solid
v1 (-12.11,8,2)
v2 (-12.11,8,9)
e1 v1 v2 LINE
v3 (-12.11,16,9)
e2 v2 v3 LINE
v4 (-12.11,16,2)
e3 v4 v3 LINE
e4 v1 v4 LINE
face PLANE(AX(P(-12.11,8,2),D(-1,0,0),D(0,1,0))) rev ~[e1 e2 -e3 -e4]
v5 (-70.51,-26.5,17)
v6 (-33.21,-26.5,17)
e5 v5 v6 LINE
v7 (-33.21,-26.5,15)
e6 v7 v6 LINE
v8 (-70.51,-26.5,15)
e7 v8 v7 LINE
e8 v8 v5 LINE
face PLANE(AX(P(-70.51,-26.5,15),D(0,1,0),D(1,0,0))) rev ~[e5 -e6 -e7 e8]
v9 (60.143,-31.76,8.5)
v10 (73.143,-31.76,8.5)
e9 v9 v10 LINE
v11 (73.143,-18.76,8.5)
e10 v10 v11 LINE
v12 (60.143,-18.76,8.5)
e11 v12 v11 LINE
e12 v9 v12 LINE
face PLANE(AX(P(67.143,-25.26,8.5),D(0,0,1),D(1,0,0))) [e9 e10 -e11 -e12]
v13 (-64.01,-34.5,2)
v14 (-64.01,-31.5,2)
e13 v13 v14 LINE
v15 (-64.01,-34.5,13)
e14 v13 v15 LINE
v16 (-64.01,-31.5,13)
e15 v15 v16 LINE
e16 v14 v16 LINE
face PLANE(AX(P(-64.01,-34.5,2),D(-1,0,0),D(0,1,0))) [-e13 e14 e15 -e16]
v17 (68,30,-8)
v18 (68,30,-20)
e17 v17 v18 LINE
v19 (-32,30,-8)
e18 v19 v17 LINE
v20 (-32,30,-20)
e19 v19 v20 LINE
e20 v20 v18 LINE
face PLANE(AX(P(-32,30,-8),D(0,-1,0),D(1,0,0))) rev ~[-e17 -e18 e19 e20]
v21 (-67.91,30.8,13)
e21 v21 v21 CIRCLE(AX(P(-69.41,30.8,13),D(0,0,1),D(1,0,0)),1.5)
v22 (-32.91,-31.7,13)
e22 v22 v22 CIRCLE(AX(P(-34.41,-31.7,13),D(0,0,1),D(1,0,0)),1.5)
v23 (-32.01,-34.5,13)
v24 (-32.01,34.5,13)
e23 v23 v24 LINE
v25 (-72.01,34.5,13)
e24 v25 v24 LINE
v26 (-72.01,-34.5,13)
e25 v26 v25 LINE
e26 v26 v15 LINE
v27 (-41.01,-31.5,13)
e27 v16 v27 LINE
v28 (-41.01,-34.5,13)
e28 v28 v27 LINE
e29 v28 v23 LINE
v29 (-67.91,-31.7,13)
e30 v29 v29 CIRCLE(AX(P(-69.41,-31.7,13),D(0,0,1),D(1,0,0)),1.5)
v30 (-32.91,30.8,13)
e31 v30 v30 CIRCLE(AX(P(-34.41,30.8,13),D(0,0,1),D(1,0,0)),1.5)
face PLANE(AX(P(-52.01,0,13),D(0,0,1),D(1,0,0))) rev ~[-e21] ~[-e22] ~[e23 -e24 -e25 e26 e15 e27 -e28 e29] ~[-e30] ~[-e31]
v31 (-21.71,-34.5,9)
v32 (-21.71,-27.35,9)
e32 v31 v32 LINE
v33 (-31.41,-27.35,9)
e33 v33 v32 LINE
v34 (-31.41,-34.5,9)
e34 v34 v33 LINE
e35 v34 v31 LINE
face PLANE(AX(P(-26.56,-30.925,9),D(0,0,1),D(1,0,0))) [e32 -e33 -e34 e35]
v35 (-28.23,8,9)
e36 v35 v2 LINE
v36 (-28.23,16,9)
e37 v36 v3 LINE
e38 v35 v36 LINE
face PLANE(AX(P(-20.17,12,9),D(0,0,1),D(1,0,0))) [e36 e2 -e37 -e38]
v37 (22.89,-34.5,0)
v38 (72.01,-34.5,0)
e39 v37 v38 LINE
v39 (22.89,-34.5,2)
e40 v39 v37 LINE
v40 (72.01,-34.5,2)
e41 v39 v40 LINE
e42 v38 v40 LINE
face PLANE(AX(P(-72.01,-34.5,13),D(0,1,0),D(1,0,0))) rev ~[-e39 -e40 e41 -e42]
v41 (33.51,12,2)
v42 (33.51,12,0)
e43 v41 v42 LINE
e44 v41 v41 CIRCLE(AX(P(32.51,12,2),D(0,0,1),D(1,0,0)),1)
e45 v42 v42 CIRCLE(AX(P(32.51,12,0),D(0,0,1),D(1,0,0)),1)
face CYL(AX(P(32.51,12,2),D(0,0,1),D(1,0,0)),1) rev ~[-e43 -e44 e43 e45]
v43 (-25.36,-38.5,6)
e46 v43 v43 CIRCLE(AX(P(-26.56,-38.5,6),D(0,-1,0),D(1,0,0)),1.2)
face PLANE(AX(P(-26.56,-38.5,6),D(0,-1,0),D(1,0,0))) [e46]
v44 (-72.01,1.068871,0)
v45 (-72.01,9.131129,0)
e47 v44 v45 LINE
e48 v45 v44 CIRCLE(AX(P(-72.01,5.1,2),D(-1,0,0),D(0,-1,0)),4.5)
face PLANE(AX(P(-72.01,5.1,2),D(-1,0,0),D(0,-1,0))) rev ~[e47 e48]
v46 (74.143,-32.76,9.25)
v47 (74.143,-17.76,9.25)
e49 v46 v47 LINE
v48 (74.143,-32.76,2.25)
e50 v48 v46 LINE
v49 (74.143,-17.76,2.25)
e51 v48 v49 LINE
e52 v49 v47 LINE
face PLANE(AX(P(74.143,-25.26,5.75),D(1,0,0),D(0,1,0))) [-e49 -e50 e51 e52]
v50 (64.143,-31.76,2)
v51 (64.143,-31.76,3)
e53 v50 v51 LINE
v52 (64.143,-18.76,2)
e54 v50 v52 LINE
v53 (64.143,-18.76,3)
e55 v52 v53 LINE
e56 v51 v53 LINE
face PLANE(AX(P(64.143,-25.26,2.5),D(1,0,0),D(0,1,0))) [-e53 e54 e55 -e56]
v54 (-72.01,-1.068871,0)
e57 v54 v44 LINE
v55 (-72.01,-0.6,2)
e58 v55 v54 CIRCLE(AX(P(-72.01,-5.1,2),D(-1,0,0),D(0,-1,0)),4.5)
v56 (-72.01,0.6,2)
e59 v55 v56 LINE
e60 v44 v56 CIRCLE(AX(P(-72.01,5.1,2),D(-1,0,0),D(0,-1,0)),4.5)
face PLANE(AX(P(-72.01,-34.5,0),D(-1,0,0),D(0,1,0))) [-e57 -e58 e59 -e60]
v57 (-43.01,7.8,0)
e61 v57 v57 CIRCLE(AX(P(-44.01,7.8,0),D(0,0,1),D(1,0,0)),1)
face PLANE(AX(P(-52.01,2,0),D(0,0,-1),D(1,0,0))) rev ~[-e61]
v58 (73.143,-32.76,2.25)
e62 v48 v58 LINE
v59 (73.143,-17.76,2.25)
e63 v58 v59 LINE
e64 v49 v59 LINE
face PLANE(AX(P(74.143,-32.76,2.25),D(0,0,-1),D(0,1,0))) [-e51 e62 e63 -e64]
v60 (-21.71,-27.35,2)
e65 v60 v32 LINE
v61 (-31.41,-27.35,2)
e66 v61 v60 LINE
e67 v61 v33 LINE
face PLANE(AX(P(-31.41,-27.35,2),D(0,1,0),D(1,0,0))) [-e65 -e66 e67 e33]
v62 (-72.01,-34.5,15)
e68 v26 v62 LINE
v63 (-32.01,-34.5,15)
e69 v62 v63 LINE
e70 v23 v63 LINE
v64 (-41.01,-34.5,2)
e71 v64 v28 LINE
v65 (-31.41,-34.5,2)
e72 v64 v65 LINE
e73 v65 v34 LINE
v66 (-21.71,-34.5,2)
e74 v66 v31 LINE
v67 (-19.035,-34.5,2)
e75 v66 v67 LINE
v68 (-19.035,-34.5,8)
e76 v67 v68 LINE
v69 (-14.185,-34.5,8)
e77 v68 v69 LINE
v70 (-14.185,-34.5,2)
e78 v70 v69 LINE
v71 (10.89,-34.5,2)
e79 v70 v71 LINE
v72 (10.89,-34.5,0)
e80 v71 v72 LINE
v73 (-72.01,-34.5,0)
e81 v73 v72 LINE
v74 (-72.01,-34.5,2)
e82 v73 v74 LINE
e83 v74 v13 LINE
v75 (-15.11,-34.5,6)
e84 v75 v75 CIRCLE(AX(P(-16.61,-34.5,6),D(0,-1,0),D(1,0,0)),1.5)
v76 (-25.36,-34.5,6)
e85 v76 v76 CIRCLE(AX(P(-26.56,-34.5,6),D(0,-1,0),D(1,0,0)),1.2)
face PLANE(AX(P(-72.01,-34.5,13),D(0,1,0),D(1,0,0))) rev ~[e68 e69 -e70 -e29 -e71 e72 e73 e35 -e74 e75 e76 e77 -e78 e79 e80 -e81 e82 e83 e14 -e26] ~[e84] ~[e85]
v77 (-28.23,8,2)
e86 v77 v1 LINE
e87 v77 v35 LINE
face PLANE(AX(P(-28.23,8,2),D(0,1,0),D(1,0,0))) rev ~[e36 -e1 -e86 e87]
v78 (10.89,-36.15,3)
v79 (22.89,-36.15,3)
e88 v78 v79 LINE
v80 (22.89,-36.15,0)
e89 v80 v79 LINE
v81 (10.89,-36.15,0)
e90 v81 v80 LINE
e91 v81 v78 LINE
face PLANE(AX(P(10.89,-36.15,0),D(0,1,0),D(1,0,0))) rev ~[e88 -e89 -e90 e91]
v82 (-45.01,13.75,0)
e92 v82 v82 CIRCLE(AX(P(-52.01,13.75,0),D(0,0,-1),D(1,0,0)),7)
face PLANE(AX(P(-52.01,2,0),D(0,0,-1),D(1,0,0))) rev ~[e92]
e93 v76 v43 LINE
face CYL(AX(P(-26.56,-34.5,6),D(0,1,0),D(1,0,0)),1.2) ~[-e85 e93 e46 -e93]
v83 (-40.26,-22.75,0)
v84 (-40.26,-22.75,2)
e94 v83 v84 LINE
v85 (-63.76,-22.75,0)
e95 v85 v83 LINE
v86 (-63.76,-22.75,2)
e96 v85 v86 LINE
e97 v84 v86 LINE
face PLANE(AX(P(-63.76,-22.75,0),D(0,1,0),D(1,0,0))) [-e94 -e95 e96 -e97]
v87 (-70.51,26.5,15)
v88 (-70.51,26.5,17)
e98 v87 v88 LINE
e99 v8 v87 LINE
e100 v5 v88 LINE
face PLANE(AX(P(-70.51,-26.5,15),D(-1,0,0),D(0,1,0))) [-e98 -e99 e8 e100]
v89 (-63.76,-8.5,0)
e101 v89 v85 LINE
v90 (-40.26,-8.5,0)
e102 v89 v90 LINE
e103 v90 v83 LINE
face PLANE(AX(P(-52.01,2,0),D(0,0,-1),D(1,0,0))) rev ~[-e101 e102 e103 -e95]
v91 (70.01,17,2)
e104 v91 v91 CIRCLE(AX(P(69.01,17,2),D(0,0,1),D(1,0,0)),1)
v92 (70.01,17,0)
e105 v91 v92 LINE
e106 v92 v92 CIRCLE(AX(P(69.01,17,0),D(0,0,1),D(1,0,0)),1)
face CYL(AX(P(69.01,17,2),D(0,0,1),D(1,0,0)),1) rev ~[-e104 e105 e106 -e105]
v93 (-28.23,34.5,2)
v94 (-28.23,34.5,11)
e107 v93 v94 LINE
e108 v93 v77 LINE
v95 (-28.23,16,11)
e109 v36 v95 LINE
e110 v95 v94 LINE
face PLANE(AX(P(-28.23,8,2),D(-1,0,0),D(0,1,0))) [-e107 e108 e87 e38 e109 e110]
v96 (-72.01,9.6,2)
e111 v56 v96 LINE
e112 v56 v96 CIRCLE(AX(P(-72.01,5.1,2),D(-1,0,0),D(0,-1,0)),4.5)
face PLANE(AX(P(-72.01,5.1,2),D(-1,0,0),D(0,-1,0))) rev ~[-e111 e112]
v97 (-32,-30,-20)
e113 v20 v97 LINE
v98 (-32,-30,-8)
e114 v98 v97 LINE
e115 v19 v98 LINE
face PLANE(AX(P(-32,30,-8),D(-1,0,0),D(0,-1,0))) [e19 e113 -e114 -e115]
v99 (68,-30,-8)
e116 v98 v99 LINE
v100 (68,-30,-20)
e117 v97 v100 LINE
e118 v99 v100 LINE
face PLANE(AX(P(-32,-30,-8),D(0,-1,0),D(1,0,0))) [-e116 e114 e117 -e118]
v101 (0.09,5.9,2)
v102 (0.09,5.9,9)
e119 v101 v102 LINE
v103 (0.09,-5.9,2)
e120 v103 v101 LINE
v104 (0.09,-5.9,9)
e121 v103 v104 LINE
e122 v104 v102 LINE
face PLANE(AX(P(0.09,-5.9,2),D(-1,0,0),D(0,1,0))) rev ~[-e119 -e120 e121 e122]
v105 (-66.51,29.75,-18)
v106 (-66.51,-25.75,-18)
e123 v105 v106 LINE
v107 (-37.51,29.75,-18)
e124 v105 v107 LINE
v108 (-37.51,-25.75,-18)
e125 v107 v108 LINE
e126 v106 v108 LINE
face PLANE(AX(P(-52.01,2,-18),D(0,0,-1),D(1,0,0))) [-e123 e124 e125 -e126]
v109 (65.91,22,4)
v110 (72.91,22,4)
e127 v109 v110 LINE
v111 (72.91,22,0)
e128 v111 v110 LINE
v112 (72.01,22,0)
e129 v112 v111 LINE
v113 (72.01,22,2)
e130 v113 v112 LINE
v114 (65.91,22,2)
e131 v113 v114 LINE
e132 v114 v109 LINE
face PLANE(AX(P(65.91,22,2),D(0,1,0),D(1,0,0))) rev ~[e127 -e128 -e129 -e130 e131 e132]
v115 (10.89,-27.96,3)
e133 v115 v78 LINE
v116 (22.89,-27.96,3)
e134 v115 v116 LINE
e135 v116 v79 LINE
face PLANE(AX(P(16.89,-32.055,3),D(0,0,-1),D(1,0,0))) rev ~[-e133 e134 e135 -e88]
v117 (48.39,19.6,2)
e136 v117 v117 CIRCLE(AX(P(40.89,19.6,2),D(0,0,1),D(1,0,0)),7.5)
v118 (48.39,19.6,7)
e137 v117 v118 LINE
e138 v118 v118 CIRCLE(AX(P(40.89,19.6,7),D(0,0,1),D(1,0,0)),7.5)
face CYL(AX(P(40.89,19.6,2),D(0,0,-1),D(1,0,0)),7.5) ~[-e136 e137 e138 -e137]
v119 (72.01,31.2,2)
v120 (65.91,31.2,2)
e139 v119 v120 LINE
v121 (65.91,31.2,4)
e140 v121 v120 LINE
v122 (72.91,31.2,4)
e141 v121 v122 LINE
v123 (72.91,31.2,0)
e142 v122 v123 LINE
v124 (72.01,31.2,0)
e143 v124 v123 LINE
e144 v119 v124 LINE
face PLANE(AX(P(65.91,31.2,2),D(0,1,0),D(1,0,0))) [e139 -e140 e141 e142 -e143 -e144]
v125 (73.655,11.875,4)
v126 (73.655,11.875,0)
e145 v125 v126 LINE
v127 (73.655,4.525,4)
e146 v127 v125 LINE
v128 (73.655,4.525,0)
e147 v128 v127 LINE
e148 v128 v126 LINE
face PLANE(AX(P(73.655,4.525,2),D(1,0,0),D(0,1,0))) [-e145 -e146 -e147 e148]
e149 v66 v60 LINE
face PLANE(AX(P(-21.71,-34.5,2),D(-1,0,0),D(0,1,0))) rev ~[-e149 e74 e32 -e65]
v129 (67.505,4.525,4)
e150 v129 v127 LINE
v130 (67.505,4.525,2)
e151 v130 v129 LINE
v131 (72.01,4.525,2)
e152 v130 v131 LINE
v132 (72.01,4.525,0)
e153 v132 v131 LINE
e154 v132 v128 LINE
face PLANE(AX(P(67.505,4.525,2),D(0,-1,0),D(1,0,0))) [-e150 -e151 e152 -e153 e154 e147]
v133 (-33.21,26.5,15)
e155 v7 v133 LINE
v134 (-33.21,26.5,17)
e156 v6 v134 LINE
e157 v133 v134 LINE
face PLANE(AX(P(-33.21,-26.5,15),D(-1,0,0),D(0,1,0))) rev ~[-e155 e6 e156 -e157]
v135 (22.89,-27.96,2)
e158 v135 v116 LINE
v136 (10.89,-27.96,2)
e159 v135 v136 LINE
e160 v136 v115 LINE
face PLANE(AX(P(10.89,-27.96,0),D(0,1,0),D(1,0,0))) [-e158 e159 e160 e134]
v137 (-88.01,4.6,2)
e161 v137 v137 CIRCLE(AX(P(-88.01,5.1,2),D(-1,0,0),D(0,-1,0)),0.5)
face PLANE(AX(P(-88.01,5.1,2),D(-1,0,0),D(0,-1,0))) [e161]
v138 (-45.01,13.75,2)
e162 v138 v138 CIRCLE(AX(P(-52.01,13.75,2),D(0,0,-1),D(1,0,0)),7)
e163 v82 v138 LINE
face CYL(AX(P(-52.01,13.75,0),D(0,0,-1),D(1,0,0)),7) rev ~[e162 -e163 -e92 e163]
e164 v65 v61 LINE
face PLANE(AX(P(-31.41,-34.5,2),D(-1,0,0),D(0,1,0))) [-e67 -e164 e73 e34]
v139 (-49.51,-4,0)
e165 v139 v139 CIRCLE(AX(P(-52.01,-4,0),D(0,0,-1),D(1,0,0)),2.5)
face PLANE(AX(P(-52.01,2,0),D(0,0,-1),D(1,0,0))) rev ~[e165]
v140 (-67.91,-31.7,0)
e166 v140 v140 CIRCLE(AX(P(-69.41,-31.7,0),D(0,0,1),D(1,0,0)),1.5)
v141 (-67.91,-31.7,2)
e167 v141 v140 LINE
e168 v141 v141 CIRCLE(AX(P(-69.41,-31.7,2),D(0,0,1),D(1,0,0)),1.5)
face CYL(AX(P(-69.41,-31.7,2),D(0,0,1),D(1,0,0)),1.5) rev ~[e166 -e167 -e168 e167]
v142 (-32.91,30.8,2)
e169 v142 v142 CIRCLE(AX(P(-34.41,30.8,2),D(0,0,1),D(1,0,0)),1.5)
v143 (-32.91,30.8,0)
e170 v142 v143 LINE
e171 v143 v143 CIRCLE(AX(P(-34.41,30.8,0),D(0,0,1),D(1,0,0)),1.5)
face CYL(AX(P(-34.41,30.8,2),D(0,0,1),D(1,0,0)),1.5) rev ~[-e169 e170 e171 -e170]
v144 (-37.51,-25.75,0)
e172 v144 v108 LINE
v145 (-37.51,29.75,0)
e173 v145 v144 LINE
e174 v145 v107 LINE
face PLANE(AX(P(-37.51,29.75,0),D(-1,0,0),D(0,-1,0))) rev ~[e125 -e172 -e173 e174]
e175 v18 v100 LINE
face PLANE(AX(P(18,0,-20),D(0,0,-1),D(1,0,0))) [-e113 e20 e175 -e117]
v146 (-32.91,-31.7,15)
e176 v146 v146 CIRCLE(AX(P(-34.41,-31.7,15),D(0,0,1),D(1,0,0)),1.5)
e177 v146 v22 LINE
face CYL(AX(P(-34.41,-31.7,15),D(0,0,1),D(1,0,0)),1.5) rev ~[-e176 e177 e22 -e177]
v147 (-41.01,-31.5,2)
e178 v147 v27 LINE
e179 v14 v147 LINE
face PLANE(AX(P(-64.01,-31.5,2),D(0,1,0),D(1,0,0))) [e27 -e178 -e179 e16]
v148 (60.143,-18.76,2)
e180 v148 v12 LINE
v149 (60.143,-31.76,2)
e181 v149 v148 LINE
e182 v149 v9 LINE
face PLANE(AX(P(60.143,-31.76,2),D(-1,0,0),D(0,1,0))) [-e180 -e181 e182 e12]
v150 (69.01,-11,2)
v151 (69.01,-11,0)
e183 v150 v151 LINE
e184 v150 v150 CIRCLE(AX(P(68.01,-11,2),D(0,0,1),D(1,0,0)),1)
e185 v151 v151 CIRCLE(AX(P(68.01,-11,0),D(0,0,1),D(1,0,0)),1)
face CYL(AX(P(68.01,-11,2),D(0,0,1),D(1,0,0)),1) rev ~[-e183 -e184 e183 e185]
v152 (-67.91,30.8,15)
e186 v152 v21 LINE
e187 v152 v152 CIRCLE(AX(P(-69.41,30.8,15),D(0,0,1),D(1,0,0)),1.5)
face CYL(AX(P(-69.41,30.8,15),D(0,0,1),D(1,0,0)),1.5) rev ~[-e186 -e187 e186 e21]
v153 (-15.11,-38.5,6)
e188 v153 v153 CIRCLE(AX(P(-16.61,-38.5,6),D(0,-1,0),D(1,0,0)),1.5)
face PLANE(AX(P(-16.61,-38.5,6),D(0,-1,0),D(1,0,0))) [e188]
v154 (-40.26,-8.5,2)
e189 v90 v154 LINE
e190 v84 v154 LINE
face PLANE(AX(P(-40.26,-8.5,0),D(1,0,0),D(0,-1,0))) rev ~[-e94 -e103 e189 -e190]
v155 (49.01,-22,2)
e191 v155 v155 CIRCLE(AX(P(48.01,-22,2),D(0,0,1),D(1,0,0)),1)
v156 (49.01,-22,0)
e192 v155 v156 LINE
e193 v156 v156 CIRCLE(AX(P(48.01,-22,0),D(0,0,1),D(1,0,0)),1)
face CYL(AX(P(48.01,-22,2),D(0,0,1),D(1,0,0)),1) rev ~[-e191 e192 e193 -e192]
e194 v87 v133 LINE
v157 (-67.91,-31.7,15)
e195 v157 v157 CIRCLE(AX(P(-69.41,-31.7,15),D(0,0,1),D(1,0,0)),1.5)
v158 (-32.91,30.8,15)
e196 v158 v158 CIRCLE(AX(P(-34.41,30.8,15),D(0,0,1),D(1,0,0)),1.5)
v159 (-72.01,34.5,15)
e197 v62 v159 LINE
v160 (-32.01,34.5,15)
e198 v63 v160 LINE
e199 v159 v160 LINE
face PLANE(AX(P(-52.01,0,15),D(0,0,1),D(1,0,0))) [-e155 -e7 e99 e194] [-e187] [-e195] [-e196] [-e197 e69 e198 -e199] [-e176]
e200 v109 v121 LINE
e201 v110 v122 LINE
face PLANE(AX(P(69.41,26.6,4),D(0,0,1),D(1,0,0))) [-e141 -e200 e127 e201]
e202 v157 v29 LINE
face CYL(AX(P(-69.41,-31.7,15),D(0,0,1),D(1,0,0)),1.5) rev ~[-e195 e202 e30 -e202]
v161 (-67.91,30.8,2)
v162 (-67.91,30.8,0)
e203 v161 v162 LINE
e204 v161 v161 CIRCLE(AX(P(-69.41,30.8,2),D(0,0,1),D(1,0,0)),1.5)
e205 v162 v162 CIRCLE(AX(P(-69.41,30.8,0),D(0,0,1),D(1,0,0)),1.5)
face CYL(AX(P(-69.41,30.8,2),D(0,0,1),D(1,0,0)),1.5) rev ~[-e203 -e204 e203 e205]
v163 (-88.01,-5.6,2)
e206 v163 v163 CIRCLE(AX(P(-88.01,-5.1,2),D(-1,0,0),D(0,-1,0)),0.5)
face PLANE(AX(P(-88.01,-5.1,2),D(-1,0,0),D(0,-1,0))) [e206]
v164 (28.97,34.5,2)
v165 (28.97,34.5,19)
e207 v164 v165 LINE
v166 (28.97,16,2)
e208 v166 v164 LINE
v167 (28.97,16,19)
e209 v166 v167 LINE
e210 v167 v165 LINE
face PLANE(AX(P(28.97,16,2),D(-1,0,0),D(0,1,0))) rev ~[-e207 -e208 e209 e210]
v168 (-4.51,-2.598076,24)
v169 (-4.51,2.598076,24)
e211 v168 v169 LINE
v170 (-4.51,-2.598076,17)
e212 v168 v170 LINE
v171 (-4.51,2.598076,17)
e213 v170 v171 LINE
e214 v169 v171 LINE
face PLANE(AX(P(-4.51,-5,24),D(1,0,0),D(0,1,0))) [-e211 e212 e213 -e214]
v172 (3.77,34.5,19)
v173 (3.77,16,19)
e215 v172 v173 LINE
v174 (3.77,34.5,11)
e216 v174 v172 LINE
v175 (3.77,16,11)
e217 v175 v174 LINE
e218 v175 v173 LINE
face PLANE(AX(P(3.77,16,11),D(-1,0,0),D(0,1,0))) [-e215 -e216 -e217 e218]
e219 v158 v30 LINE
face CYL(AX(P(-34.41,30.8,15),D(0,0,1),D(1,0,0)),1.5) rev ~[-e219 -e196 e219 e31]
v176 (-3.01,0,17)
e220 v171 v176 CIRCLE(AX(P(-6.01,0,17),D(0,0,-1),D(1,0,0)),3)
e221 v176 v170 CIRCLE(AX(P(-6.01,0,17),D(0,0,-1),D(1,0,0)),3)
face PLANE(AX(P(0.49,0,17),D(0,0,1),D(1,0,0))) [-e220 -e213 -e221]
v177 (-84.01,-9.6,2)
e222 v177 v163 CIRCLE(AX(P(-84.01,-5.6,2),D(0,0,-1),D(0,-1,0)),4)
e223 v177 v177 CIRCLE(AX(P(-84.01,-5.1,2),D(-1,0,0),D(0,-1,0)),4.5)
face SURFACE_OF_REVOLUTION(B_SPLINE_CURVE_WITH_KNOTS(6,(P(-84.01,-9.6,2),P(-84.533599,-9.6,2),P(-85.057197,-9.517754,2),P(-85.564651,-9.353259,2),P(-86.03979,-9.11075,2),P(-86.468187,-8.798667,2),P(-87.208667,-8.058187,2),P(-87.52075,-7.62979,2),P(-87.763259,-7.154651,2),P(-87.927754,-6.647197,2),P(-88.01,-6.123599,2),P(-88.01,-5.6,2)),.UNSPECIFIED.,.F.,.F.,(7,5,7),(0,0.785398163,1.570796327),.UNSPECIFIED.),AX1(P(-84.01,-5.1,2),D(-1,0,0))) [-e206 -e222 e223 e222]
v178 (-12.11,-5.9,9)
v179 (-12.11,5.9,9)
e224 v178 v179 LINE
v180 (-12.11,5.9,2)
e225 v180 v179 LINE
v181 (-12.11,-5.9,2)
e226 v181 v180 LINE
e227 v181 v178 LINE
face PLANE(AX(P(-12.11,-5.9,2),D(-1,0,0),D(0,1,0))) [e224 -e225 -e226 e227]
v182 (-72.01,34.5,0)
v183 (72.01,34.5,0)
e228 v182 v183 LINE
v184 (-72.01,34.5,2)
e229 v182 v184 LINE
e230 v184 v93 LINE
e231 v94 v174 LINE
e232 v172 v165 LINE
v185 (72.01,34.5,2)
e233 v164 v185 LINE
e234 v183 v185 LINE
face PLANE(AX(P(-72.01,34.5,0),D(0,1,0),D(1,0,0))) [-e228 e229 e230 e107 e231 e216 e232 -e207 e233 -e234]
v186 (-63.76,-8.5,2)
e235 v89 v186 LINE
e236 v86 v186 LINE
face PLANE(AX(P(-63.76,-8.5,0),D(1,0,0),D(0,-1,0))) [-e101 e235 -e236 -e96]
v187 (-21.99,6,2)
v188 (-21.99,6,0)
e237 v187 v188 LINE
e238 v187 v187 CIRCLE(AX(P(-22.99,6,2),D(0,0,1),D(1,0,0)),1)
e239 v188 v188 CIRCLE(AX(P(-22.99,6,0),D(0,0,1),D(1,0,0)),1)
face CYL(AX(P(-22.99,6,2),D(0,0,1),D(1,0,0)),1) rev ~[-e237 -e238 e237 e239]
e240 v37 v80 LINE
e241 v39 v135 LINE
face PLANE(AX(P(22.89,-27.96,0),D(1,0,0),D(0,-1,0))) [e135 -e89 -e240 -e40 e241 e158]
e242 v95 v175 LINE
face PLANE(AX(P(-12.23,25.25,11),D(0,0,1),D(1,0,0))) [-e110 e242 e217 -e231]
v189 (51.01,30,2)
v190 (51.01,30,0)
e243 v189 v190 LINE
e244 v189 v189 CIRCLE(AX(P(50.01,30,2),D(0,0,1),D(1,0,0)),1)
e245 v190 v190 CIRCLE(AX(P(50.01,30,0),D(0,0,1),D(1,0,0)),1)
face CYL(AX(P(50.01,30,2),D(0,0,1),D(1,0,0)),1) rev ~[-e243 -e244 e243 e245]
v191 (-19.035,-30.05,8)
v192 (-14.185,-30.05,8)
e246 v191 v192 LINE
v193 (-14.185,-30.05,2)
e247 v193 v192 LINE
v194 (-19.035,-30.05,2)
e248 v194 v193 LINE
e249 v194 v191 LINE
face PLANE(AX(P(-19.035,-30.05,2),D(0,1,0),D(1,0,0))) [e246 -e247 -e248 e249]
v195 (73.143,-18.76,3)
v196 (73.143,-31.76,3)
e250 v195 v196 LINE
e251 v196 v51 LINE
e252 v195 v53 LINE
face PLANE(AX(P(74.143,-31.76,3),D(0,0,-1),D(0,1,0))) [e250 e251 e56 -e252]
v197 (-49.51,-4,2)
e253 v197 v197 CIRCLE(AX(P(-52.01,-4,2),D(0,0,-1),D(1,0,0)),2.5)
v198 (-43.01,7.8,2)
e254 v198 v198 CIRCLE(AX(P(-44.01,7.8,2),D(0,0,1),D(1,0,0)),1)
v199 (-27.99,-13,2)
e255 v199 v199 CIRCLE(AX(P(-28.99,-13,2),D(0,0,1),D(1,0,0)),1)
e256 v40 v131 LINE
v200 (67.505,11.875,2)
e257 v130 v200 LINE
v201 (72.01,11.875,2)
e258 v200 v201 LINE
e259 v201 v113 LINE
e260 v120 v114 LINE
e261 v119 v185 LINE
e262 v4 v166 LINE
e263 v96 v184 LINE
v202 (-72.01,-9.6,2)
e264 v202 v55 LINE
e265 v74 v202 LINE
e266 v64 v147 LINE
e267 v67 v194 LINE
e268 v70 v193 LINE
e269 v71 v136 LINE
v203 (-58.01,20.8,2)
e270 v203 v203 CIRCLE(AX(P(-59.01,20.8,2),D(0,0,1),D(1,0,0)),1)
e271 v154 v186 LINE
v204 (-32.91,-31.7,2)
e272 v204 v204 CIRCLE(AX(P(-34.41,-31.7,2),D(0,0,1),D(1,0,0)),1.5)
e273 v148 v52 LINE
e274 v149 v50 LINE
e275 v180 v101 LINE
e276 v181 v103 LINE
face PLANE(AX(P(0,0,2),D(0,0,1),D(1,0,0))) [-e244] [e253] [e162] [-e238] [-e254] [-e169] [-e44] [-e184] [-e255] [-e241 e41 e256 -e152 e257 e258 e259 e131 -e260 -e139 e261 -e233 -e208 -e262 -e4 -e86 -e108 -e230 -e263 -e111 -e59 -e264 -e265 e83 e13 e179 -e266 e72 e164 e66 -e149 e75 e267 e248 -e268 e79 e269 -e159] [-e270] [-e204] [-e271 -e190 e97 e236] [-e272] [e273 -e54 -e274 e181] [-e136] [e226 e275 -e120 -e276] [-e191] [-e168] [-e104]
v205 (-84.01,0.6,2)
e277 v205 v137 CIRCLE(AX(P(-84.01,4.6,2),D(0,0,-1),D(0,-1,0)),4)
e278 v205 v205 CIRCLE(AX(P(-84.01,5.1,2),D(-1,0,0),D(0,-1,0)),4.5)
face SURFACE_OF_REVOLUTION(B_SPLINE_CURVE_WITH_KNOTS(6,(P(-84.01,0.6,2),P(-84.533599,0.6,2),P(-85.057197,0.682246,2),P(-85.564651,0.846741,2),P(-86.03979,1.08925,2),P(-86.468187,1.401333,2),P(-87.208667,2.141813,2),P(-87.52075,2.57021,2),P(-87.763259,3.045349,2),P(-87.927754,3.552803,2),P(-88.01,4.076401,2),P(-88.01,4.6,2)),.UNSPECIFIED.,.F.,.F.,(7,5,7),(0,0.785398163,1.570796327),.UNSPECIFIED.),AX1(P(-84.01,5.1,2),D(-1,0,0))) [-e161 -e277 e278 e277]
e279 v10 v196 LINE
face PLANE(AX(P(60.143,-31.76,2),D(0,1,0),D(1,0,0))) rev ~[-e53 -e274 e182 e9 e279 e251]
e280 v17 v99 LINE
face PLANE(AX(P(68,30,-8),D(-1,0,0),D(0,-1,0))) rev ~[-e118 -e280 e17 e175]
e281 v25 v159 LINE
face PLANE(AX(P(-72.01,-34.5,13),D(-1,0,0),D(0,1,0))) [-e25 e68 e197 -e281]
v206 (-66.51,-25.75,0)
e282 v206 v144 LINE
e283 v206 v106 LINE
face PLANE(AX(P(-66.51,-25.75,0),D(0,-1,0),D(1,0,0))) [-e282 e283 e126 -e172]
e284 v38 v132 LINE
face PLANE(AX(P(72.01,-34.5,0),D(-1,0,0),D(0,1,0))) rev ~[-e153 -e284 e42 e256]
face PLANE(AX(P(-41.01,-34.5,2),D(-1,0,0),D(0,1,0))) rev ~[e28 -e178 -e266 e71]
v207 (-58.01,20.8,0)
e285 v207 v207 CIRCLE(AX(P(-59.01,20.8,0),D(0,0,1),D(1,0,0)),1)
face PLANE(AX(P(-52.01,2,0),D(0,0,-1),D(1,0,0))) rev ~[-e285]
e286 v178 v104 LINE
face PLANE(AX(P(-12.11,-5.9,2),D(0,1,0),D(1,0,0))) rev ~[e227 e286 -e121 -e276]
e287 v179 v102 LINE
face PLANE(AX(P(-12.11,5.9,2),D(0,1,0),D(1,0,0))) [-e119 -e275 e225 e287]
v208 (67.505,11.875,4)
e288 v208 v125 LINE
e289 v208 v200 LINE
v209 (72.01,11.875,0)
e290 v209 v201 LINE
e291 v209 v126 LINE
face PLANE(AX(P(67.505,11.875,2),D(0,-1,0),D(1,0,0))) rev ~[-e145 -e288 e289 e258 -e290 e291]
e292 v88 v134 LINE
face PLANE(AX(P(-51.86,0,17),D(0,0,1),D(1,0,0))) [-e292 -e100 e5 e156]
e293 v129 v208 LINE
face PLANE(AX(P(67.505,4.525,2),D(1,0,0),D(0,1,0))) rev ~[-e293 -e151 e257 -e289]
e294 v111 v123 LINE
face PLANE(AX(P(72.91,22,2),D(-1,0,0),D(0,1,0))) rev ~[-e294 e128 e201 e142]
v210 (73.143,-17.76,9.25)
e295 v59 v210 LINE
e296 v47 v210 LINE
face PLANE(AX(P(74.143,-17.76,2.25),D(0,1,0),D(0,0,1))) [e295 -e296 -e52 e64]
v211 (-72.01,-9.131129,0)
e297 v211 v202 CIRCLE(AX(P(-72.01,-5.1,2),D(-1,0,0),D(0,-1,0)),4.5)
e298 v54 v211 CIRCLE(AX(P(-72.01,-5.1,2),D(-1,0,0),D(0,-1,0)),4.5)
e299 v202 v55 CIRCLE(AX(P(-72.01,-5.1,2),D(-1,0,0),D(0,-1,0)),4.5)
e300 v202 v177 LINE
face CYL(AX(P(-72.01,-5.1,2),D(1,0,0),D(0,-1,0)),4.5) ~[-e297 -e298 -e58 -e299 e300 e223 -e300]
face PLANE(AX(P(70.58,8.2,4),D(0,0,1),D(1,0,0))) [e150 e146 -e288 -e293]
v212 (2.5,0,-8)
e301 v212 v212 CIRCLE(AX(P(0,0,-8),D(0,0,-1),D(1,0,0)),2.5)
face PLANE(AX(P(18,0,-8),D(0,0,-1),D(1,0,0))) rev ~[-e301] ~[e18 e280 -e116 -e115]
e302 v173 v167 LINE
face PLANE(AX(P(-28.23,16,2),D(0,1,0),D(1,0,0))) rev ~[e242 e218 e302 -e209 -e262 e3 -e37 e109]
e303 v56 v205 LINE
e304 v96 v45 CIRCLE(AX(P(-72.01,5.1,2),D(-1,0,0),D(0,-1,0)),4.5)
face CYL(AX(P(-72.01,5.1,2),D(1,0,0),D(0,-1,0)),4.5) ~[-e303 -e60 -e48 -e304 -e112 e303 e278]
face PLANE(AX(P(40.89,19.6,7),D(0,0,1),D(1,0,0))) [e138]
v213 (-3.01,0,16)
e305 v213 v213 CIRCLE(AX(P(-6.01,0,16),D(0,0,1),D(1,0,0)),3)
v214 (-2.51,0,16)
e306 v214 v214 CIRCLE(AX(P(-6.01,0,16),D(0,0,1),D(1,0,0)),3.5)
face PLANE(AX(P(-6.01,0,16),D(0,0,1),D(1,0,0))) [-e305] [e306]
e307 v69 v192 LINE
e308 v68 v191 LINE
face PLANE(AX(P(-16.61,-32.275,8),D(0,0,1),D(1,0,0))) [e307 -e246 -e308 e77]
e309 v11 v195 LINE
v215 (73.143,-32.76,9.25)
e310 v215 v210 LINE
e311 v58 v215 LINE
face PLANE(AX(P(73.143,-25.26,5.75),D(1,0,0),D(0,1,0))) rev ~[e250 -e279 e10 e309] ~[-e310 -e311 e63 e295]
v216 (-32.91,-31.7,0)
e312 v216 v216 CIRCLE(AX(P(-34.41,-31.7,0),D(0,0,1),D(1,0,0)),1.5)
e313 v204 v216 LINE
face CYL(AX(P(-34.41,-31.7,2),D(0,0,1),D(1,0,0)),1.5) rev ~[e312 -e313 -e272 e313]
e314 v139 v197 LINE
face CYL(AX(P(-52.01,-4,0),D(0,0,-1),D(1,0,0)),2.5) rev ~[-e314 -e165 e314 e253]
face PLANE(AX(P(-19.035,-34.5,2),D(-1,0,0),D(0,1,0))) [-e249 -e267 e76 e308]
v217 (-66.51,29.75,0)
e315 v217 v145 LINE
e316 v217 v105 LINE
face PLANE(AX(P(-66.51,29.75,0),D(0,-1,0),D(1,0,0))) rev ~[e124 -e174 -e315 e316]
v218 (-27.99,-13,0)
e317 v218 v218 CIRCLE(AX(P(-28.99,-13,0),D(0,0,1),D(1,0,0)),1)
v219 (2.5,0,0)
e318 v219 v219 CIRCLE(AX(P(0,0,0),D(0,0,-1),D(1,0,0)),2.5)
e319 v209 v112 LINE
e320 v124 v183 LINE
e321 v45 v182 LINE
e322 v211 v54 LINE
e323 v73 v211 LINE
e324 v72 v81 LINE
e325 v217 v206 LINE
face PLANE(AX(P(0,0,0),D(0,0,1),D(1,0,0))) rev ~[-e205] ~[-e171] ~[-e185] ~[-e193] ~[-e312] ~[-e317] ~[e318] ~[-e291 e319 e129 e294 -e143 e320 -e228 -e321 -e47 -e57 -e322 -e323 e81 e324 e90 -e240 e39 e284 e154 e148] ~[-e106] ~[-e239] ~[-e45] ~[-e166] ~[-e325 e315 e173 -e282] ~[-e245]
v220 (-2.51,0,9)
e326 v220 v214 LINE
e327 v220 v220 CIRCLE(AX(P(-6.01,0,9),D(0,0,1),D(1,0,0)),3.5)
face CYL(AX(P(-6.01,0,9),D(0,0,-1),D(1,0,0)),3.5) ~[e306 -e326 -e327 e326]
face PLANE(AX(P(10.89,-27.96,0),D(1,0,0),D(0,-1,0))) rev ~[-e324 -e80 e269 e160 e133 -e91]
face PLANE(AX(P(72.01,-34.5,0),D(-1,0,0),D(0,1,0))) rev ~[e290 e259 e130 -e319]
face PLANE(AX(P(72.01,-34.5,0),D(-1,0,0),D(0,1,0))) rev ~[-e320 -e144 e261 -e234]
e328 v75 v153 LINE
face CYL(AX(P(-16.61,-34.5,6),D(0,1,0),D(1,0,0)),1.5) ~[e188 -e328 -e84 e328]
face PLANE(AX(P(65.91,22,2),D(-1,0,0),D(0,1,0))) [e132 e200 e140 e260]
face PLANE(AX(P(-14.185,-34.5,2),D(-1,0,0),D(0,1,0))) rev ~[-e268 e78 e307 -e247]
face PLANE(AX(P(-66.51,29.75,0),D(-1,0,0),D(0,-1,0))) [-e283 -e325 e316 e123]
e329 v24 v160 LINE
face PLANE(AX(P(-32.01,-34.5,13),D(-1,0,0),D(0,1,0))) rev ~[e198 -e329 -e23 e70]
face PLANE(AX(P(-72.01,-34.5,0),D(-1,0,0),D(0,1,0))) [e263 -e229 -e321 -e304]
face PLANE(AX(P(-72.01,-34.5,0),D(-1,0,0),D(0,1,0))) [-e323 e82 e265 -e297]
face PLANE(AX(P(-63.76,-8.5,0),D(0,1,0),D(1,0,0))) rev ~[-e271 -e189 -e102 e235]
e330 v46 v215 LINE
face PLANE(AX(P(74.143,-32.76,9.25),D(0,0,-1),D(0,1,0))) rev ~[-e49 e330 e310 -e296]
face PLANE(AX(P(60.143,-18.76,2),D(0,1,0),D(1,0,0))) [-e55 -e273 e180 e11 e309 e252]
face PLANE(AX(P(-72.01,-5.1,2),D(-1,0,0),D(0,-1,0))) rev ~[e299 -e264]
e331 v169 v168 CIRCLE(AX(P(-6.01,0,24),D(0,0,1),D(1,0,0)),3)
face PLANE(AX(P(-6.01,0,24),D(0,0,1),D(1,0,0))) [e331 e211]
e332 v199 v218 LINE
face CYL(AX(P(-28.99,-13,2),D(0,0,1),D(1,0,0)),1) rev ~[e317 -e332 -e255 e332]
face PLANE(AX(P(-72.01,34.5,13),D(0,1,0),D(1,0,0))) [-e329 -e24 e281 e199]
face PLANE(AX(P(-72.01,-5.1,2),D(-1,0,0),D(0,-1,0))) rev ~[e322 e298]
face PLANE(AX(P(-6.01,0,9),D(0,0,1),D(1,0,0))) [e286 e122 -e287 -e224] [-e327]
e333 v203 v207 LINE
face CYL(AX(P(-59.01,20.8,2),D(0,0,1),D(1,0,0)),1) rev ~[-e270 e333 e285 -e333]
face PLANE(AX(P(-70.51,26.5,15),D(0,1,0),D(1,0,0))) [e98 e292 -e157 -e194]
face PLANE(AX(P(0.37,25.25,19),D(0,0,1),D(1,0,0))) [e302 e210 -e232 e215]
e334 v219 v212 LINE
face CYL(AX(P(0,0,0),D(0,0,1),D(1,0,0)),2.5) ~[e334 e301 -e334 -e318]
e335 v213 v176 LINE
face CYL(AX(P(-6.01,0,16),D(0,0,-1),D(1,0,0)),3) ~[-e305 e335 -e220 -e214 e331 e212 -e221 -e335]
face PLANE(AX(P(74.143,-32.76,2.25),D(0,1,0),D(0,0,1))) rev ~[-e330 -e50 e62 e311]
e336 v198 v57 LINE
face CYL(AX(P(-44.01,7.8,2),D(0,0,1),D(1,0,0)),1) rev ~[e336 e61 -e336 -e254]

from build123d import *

# Parameters (mm, degrees)
SKETCH_W        = 144.02
SKETCH_H        = 69
PAD_DEPTH       = 2
SKETCH001_R     = 1.5
POCKET_DEPTH    = 5
SKETCH002_W     = 23
SKETCH002_H     = 3
PAD001_DEPTH    = 11
SKETCH003_W     = 40
SKETCH003_H     = 69
PAD002_DEPTH    = 2
SKETCH004_W     = 37.3
SKETCH004_H     = 53
PAD003_DEPTH    = 2
SKETCH005_R     = 1.5
POCKET001_DEPTH = 5
SKETCH006_R     = 7
POCKET002_DEPTH = 5
SKETCH007_R     = 1
POCKET003_DEPTH = 5
SKETCH008_R     = 2.5
SKETCH008_W     = 23.5
SKETCH008_H     = 14.25
POCKET004_DEPTH = 5
SKETCH024_R     = 1
POCKET012_DEPTH = 5
SKETCH025_W     = 7
SKETCH025_H     = 9.2
SKETCH025_W_2   = 6.15
SKETCH025_H_2   = 7.35
PAD012_DEPTH    = 2
SKETCH026_W     = 14
SKETCH026_H     = 13
PAD013_DEPTH    = 6.5
SKETCH027_W     = 13
SKETCH027_H     = 1
POCKET013_DEPTH = 10
SKETCH028_W     = 15
SKETCH028_H     = 7
PAD014_DEPTH    = 1
SKETCH038_W     = 12.2
SKETCH038_H     = 11.8
PAD022_DEPTH    = 7
SKETCH039_R     = 3.5
PAD023_DEPTH    = 7
SKETCH040_R     = 3
PAD024_DEPTH    = 8
SKETCH041_W     = 10
SKETCH041_H     = 10
POCKET016_DEPTH = 7
SKETCH042_R     = 7.5
PAD025_DEPTH    = 5
SKETCH043_W     = 57.2
SKETCH043_H     = 18.5
PAD026_DEPTH    = 17
SKETCH044_W     = 12
SKETCH044_H     = 8.19
PAD027_DEPTH    = 3
SKETCH045_W     = 9.7
SKETCH045_H     = 7.15
PAD028_DEPTH    = 7
SKETCH046_R     = 1.2
PAD029_DEPTH    = 4
SKETCH047_W     = 4.85
SKETCH047_H     = 4.45
PAD030_DEPTH    = 6
SKETCH048_R     = 1.5
PAD031_DEPTH    = 4
SKETCH049_W     = 29
SKETCH049_H     = 55.5
PAD032_DEPTH    = 18
SKETCH050_R     = 2.5
PAD033_DEPTH    = 8
SKETCH051_W     = 100
SKETCH051_H     = 60
PAD034_DEPTH    = 12
SKETCH052_R     = 4.5
PAD035_DEPTH    = 16
FILLET003_R     = 4
SKETCH053_W     = 32
SKETCH053_H     = 18.5
POCKET017_DEPTH = 9
SKETCH062_W     = 16.12
SKETCH062_H     = 8
PAD041_DEPTH    = 7


with BuildPart() as part:
    # Sketch → Pad (new body)
    with BuildSketch(Plane.XY):
        Rectangle(SKETCH_W, SKETCH_H)
    extrude(amount=PAD_DEPTH)

    # Sketch001 (on Face6 of Pad) → Pocket (cut)
    with BuildSketch(Plane.XY.offset(2)):
        with Locations((-69.41, -31.7)):
            Circle(SKETCH001_R)
        with Locations((-34.41, -31.7)):
            Circle(SKETCH001_R)
        with Locations((-69.41, 30.8)):
            Circle(SKETCH001_R)
        with Locations((-34.41, 30.8)):
            Circle(SKETCH001_R)
    extrude(amount=-POCKET_DEPTH, mode=Mode.SUBTRACT)

    # Sketch002 (on Face5 of Pocket) → Pad001 (join)
    with BuildSketch(Plane.XY.offset(2)):
        with Locations((-52.51, -33)):
            Rectangle(SKETCH002_W, SKETCH002_H)
    extrude(amount=PAD001_DEPTH)

    # Sketch003 (on Face15 of Pad001) → Pad002 (join)
    with BuildSketch(Plane.XY.offset(13)):
        with Locations((-52.01, 0)):
            Rectangle(SKETCH003_W, SKETCH003_H)
    extrude(amount=PAD002_DEPTH)

    # Sketch004 (on Face6 of Pad002) → Pad003 (join)
    with BuildSketch(Plane.XY.offset(15)):
        with Locations((-51.86, 0)):
            Rectangle(SKETCH004_W, SKETCH004_H)
    extrude(amount=PAD003_DEPTH)

    # Sketch005 (on Face6 of Pad003) → Pocket001 (cut)
    with BuildSketch(Plane.XY.offset(15)):
        with Locations((-69.41, 30.8)):
            Circle(SKETCH005_R)
        with Locations((-34.41, 30.8)):
            Circle(SKETCH005_R)
        with Locations((-34.41, -31.7)):
            Circle(SKETCH005_R)
        with Locations((-69.41, -31.7)):
            Circle(SKETCH005_R)
    extrude(amount=-POCKET001_DEPTH, mode=Mode.SUBTRACT)

    # Sketch006 (on Face23 of Pocket001) → Pocket002 (cut)
    with BuildSketch(Plane(origin=(0, 0, 0), x_dir=(1, 0, 0), z_dir=(0, 0, -1))):
        with Locations((-52.01, -13.75)):
            Circle(SKETCH006_R)
    extrude(amount=-POCKET002_DEPTH, mode=Mode.SUBTRACT)

    # Sketch007 (on Face20 of Pocket002) → Pocket003 (cut)
    with BuildSketch(Plane.XY.offset(2)):
        with Locations((-59.01, 20.8)):
            Circle(SKETCH007_R)
        with Locations((-44.01, 7.8)):
            Circle(SKETCH007_R)
    extrude(amount=-POCKET003_DEPTH, mode=Mode.SUBTRACT)

    # Sketch008 (on Face23 of Pocket003) → Pocket004 (cut)
    with BuildSketch(Plane(origin=(0, 0, 0), x_dir=(1, 0, 0), z_dir=(0, 0, -1))):
        with Locations((-52.01, 4)):
            Circle(SKETCH008_R)
        with Locations((-52.01, 15.625)):
            Rectangle(SKETCH008_W, SKETCH008_H)
    extrude(amount=-POCKET004_DEPTH, mode=Mode.SUBTRACT)

    # Sketch024 (on Face20 of Pocket004) → Pocket012 (cut)
    with BuildSketch(Plane.XY.offset(2)):
        with Locations((-28.99, -13)):
            Circle(SKETCH024_R)
        with Locations((-22.99, 6)):
            Circle(SKETCH024_R)
        with Locations((32.51, 12)):
            Circle(SKETCH024_R)
        with Locations((50.01, 30)):
            Circle(SKETCH024_R)
        with Locations((48.01, -22)):
            Circle(SKETCH024_R)
        with Locations((68.01, -11)):
            Circle(SKETCH024_R)
        with Locations((69.01, 17)):
            Circle(SKETCH024_R)
    extrude(amount=-POCKET012_DEPTH, mode=Mode.SUBTRACT)

    # Sketch025 (on Face20 of Pocket012) → Pad012 (join, symmetric)
    with BuildSketch(Plane.XY.offset(2)):
        with Locations((69.41, 26.6)):
            Rectangle(SKETCH025_W, SKETCH025_H)
        with Locations((70.58, 8.2)):
            Rectangle(SKETCH025_W_2, SKETCH025_H_2)
    extrude(amount=PAD012_DEPTH, both=True)

    # Sketch026 (on Face20 of Pad012) → Pad013 (join)
    with BuildSketch(Plane.XY.offset(2)):
        with Locations((67.143, -25.26)):
            Rectangle(SKETCH026_W, SKETCH026_H)
    extrude(amount=PAD013_DEPTH)

    # Sketch027 (on Face65 of Pad013) → Pocket013 (cut)
    with BuildSketch(Plane.YZ.offset(74.143)):
        with Locations((-25.26, 2.5)):
            Rectangle(SKETCH027_W, SKETCH027_H)
    extrude(amount=-POCKET013_DEPTH, mode=Mode.SUBTRACT)

    # Sketch028 (on Face67 of Pocket013) → Pad014 (join)
    with BuildSketch(Plane.YZ.offset(74.143)):
        with Locations((-25.26, 5.75)):
            Rectangle(SKETCH028_W, SKETCH028_H)
    extrude(amount=-PAD014_DEPTH)

    # Sketch038 (on Face20 of Pad014) → Pad022 (join)
    with BuildSketch(Plane.XY.offset(2)):
        with Locations((-6.01, 0)):
            Rectangle(SKETCH038_W, SKETCH038_H)
    extrude(amount=PAD022_DEPTH)

    # Sketch039 (on Face73 of Pad022) → Pad023 (join)
    with BuildSketch(Plane.XY.offset(9)):
        with Locations((-6.01, 0)):
            Circle(SKETCH039_R)
    extrude(amount=PAD023_DEPTH)

    # Sketch040 (on Face80 of Pad023) → Pad024 (join)
    with BuildSketch(Plane.XY.offset(16)):
        with Locations((-6.01, 0)):
            Circle(SKETCH040_R)
    extrude(amount=PAD024_DEPTH)

    # Sketch041 (on Face83 of Pad024) → Pocket016 (cut)
    with BuildSketch(Plane.XY.offset(24)):
        with Locations((0.49, 0)):
            Rectangle(SKETCH041_W, SKETCH041_H)
    extrude(amount=-POCKET016_DEPTH, mode=Mode.SUBTRACT)

    # Sketch042 (on Face20 of Pocket016) → Pad025 (join)
    with BuildSketch(Plane.XY.offset(2)):
        with Locations((40.89, 19.6)):
            Circle(SKETCH042_R)
    extrude(amount=PAD025_DEPTH)

    # Sketch043 (on Face20 of Pad025) → Pad026 (join)
    with BuildSketch(Plane.XY.offset(2)):
        with Locations((0.37, 25.25)):
            Rectangle(SKETCH043_W, SKETCH043_H)
    extrude(amount=PAD026_DEPTH)

    # Sketch044 (on Face23 of Pad026) → Pad027 (join)
    with BuildSketch(Plane(origin=(0, 0, 0), x_dir=(1, 0, 0), z_dir=(0, 0, -1))):
        with Locations((16.89, 32.055)):
            Rectangle(SKETCH044_W, SKETCH044_H)
    extrude(amount=-PAD027_DEPTH)

    # Sketch045 (on Face20 of Pad027) → Pad028 (join)
    with BuildSketch(Plane.XY.offset(2)):
        with Locations((-26.56, -30.925)):
            Rectangle(SKETCH045_W, SKETCH045_H)
    extrude(amount=PAD028_DEPTH)

    # Sketch046 (on Face23 of Pad028) → Pad029 (join)
    with BuildSketch(Plane.XZ.offset(34.5)):
        with Locations((-26.56, 6)):
            Circle(SKETCH046_R)
    extrude(amount=PAD029_DEPTH)

    # Sketch047 (on Face20 of Pad029) → Pad030 (join)
    with BuildSketch(Plane.XY.offset(2)):
        with Locations((-16.61, -32.275)):
            Rectangle(SKETCH047_W, SKETCH047_H)
    extrude(amount=PAD030_DEPTH)

    # Sketch048 (on Face23 of Pad030) → Pad031 (join)
    with BuildSketch(Plane.XZ.offset(34.5)):
        with Locations((-16.61, 6)):
            Circle(SKETCH048_R)
    extrude(amount=PAD031_DEPTH)

    # Sketch049 (on Face21 of Pad031) → Pad032 (join)
    with BuildSketch(Plane(origin=(0, 0, 0), x_dir=(1, 0, 0), z_dir=(0, 0, -1))):
        with Locations((-52.01, -2)):
            Rectangle(SKETCH049_W, SKETCH049_H)
    extrude(amount=PAD032_DEPTH)

    # Sketch050 (on Face21 of Pad032) → Pad033 (join)
    with BuildSketch(Plane(origin=(0, 0, 0), x_dir=(1, 0, 0), z_dir=(0, 0, -1))):
        Circle(SKETCH050_R)
    extrude(amount=PAD033_DEPTH)

    # Sketch051 (on Face112 of Pad033) → Pad034 (join)
    with BuildSketch(Plane(origin=(0, 0, -8), x_dir=(1, 0, 0), z_dir=(0, 0, -1))):
        with Locations((18, 0)):
            Rectangle(SKETCH051_W, SKETCH051_H)
    extrude(amount=PAD034_DEPTH)

    # Sketch052 (on Face10 of Pad034) → Pad035 (join)
    with BuildSketch(Plane(origin=(-72.01, 0, 0), x_dir=(0, -1, 0), z_dir=(-1, 0, 0))):
        with Locations((-5.1, 2)):
            Circle(SKETCH052_R)
        with Locations((5.1, 2)):
            Circle(SKETCH052_R)
    extrude(amount=PAD035_DEPTH)

    # Fillet003
    fillet003_edges = [part.edges().sort_by_distance(p)[0] for p in [
        (-88.01, 9.6, 2),
        (-88.01, -0.6, 2),
    ]]
    fillet(fillet003_edges, radius=FILLET003_R)

    # Sketch053 (on Face87 of Fillet003) → Pocket017 (cut)
    with BuildSketch(Plane.XY.offset(11)):
        with Locations((-12.23, 25.25)):
            Rectangle(SKETCH053_W, SKETCH053_H)
    extrude(amount=POCKET017_DEPTH, mode=Mode.SUBTRACT)

    # Sketch062 (on Face9 of Pocket017) → Pad041 (join)
    with BuildSketch(Plane.XY.offset(2)):
        with Locations((-20.17, 12)):
            Rectangle(SKETCH062_W, SKETCH062_H)
    extrude(amount=PAD041_DEPTH)


solid = part.part
